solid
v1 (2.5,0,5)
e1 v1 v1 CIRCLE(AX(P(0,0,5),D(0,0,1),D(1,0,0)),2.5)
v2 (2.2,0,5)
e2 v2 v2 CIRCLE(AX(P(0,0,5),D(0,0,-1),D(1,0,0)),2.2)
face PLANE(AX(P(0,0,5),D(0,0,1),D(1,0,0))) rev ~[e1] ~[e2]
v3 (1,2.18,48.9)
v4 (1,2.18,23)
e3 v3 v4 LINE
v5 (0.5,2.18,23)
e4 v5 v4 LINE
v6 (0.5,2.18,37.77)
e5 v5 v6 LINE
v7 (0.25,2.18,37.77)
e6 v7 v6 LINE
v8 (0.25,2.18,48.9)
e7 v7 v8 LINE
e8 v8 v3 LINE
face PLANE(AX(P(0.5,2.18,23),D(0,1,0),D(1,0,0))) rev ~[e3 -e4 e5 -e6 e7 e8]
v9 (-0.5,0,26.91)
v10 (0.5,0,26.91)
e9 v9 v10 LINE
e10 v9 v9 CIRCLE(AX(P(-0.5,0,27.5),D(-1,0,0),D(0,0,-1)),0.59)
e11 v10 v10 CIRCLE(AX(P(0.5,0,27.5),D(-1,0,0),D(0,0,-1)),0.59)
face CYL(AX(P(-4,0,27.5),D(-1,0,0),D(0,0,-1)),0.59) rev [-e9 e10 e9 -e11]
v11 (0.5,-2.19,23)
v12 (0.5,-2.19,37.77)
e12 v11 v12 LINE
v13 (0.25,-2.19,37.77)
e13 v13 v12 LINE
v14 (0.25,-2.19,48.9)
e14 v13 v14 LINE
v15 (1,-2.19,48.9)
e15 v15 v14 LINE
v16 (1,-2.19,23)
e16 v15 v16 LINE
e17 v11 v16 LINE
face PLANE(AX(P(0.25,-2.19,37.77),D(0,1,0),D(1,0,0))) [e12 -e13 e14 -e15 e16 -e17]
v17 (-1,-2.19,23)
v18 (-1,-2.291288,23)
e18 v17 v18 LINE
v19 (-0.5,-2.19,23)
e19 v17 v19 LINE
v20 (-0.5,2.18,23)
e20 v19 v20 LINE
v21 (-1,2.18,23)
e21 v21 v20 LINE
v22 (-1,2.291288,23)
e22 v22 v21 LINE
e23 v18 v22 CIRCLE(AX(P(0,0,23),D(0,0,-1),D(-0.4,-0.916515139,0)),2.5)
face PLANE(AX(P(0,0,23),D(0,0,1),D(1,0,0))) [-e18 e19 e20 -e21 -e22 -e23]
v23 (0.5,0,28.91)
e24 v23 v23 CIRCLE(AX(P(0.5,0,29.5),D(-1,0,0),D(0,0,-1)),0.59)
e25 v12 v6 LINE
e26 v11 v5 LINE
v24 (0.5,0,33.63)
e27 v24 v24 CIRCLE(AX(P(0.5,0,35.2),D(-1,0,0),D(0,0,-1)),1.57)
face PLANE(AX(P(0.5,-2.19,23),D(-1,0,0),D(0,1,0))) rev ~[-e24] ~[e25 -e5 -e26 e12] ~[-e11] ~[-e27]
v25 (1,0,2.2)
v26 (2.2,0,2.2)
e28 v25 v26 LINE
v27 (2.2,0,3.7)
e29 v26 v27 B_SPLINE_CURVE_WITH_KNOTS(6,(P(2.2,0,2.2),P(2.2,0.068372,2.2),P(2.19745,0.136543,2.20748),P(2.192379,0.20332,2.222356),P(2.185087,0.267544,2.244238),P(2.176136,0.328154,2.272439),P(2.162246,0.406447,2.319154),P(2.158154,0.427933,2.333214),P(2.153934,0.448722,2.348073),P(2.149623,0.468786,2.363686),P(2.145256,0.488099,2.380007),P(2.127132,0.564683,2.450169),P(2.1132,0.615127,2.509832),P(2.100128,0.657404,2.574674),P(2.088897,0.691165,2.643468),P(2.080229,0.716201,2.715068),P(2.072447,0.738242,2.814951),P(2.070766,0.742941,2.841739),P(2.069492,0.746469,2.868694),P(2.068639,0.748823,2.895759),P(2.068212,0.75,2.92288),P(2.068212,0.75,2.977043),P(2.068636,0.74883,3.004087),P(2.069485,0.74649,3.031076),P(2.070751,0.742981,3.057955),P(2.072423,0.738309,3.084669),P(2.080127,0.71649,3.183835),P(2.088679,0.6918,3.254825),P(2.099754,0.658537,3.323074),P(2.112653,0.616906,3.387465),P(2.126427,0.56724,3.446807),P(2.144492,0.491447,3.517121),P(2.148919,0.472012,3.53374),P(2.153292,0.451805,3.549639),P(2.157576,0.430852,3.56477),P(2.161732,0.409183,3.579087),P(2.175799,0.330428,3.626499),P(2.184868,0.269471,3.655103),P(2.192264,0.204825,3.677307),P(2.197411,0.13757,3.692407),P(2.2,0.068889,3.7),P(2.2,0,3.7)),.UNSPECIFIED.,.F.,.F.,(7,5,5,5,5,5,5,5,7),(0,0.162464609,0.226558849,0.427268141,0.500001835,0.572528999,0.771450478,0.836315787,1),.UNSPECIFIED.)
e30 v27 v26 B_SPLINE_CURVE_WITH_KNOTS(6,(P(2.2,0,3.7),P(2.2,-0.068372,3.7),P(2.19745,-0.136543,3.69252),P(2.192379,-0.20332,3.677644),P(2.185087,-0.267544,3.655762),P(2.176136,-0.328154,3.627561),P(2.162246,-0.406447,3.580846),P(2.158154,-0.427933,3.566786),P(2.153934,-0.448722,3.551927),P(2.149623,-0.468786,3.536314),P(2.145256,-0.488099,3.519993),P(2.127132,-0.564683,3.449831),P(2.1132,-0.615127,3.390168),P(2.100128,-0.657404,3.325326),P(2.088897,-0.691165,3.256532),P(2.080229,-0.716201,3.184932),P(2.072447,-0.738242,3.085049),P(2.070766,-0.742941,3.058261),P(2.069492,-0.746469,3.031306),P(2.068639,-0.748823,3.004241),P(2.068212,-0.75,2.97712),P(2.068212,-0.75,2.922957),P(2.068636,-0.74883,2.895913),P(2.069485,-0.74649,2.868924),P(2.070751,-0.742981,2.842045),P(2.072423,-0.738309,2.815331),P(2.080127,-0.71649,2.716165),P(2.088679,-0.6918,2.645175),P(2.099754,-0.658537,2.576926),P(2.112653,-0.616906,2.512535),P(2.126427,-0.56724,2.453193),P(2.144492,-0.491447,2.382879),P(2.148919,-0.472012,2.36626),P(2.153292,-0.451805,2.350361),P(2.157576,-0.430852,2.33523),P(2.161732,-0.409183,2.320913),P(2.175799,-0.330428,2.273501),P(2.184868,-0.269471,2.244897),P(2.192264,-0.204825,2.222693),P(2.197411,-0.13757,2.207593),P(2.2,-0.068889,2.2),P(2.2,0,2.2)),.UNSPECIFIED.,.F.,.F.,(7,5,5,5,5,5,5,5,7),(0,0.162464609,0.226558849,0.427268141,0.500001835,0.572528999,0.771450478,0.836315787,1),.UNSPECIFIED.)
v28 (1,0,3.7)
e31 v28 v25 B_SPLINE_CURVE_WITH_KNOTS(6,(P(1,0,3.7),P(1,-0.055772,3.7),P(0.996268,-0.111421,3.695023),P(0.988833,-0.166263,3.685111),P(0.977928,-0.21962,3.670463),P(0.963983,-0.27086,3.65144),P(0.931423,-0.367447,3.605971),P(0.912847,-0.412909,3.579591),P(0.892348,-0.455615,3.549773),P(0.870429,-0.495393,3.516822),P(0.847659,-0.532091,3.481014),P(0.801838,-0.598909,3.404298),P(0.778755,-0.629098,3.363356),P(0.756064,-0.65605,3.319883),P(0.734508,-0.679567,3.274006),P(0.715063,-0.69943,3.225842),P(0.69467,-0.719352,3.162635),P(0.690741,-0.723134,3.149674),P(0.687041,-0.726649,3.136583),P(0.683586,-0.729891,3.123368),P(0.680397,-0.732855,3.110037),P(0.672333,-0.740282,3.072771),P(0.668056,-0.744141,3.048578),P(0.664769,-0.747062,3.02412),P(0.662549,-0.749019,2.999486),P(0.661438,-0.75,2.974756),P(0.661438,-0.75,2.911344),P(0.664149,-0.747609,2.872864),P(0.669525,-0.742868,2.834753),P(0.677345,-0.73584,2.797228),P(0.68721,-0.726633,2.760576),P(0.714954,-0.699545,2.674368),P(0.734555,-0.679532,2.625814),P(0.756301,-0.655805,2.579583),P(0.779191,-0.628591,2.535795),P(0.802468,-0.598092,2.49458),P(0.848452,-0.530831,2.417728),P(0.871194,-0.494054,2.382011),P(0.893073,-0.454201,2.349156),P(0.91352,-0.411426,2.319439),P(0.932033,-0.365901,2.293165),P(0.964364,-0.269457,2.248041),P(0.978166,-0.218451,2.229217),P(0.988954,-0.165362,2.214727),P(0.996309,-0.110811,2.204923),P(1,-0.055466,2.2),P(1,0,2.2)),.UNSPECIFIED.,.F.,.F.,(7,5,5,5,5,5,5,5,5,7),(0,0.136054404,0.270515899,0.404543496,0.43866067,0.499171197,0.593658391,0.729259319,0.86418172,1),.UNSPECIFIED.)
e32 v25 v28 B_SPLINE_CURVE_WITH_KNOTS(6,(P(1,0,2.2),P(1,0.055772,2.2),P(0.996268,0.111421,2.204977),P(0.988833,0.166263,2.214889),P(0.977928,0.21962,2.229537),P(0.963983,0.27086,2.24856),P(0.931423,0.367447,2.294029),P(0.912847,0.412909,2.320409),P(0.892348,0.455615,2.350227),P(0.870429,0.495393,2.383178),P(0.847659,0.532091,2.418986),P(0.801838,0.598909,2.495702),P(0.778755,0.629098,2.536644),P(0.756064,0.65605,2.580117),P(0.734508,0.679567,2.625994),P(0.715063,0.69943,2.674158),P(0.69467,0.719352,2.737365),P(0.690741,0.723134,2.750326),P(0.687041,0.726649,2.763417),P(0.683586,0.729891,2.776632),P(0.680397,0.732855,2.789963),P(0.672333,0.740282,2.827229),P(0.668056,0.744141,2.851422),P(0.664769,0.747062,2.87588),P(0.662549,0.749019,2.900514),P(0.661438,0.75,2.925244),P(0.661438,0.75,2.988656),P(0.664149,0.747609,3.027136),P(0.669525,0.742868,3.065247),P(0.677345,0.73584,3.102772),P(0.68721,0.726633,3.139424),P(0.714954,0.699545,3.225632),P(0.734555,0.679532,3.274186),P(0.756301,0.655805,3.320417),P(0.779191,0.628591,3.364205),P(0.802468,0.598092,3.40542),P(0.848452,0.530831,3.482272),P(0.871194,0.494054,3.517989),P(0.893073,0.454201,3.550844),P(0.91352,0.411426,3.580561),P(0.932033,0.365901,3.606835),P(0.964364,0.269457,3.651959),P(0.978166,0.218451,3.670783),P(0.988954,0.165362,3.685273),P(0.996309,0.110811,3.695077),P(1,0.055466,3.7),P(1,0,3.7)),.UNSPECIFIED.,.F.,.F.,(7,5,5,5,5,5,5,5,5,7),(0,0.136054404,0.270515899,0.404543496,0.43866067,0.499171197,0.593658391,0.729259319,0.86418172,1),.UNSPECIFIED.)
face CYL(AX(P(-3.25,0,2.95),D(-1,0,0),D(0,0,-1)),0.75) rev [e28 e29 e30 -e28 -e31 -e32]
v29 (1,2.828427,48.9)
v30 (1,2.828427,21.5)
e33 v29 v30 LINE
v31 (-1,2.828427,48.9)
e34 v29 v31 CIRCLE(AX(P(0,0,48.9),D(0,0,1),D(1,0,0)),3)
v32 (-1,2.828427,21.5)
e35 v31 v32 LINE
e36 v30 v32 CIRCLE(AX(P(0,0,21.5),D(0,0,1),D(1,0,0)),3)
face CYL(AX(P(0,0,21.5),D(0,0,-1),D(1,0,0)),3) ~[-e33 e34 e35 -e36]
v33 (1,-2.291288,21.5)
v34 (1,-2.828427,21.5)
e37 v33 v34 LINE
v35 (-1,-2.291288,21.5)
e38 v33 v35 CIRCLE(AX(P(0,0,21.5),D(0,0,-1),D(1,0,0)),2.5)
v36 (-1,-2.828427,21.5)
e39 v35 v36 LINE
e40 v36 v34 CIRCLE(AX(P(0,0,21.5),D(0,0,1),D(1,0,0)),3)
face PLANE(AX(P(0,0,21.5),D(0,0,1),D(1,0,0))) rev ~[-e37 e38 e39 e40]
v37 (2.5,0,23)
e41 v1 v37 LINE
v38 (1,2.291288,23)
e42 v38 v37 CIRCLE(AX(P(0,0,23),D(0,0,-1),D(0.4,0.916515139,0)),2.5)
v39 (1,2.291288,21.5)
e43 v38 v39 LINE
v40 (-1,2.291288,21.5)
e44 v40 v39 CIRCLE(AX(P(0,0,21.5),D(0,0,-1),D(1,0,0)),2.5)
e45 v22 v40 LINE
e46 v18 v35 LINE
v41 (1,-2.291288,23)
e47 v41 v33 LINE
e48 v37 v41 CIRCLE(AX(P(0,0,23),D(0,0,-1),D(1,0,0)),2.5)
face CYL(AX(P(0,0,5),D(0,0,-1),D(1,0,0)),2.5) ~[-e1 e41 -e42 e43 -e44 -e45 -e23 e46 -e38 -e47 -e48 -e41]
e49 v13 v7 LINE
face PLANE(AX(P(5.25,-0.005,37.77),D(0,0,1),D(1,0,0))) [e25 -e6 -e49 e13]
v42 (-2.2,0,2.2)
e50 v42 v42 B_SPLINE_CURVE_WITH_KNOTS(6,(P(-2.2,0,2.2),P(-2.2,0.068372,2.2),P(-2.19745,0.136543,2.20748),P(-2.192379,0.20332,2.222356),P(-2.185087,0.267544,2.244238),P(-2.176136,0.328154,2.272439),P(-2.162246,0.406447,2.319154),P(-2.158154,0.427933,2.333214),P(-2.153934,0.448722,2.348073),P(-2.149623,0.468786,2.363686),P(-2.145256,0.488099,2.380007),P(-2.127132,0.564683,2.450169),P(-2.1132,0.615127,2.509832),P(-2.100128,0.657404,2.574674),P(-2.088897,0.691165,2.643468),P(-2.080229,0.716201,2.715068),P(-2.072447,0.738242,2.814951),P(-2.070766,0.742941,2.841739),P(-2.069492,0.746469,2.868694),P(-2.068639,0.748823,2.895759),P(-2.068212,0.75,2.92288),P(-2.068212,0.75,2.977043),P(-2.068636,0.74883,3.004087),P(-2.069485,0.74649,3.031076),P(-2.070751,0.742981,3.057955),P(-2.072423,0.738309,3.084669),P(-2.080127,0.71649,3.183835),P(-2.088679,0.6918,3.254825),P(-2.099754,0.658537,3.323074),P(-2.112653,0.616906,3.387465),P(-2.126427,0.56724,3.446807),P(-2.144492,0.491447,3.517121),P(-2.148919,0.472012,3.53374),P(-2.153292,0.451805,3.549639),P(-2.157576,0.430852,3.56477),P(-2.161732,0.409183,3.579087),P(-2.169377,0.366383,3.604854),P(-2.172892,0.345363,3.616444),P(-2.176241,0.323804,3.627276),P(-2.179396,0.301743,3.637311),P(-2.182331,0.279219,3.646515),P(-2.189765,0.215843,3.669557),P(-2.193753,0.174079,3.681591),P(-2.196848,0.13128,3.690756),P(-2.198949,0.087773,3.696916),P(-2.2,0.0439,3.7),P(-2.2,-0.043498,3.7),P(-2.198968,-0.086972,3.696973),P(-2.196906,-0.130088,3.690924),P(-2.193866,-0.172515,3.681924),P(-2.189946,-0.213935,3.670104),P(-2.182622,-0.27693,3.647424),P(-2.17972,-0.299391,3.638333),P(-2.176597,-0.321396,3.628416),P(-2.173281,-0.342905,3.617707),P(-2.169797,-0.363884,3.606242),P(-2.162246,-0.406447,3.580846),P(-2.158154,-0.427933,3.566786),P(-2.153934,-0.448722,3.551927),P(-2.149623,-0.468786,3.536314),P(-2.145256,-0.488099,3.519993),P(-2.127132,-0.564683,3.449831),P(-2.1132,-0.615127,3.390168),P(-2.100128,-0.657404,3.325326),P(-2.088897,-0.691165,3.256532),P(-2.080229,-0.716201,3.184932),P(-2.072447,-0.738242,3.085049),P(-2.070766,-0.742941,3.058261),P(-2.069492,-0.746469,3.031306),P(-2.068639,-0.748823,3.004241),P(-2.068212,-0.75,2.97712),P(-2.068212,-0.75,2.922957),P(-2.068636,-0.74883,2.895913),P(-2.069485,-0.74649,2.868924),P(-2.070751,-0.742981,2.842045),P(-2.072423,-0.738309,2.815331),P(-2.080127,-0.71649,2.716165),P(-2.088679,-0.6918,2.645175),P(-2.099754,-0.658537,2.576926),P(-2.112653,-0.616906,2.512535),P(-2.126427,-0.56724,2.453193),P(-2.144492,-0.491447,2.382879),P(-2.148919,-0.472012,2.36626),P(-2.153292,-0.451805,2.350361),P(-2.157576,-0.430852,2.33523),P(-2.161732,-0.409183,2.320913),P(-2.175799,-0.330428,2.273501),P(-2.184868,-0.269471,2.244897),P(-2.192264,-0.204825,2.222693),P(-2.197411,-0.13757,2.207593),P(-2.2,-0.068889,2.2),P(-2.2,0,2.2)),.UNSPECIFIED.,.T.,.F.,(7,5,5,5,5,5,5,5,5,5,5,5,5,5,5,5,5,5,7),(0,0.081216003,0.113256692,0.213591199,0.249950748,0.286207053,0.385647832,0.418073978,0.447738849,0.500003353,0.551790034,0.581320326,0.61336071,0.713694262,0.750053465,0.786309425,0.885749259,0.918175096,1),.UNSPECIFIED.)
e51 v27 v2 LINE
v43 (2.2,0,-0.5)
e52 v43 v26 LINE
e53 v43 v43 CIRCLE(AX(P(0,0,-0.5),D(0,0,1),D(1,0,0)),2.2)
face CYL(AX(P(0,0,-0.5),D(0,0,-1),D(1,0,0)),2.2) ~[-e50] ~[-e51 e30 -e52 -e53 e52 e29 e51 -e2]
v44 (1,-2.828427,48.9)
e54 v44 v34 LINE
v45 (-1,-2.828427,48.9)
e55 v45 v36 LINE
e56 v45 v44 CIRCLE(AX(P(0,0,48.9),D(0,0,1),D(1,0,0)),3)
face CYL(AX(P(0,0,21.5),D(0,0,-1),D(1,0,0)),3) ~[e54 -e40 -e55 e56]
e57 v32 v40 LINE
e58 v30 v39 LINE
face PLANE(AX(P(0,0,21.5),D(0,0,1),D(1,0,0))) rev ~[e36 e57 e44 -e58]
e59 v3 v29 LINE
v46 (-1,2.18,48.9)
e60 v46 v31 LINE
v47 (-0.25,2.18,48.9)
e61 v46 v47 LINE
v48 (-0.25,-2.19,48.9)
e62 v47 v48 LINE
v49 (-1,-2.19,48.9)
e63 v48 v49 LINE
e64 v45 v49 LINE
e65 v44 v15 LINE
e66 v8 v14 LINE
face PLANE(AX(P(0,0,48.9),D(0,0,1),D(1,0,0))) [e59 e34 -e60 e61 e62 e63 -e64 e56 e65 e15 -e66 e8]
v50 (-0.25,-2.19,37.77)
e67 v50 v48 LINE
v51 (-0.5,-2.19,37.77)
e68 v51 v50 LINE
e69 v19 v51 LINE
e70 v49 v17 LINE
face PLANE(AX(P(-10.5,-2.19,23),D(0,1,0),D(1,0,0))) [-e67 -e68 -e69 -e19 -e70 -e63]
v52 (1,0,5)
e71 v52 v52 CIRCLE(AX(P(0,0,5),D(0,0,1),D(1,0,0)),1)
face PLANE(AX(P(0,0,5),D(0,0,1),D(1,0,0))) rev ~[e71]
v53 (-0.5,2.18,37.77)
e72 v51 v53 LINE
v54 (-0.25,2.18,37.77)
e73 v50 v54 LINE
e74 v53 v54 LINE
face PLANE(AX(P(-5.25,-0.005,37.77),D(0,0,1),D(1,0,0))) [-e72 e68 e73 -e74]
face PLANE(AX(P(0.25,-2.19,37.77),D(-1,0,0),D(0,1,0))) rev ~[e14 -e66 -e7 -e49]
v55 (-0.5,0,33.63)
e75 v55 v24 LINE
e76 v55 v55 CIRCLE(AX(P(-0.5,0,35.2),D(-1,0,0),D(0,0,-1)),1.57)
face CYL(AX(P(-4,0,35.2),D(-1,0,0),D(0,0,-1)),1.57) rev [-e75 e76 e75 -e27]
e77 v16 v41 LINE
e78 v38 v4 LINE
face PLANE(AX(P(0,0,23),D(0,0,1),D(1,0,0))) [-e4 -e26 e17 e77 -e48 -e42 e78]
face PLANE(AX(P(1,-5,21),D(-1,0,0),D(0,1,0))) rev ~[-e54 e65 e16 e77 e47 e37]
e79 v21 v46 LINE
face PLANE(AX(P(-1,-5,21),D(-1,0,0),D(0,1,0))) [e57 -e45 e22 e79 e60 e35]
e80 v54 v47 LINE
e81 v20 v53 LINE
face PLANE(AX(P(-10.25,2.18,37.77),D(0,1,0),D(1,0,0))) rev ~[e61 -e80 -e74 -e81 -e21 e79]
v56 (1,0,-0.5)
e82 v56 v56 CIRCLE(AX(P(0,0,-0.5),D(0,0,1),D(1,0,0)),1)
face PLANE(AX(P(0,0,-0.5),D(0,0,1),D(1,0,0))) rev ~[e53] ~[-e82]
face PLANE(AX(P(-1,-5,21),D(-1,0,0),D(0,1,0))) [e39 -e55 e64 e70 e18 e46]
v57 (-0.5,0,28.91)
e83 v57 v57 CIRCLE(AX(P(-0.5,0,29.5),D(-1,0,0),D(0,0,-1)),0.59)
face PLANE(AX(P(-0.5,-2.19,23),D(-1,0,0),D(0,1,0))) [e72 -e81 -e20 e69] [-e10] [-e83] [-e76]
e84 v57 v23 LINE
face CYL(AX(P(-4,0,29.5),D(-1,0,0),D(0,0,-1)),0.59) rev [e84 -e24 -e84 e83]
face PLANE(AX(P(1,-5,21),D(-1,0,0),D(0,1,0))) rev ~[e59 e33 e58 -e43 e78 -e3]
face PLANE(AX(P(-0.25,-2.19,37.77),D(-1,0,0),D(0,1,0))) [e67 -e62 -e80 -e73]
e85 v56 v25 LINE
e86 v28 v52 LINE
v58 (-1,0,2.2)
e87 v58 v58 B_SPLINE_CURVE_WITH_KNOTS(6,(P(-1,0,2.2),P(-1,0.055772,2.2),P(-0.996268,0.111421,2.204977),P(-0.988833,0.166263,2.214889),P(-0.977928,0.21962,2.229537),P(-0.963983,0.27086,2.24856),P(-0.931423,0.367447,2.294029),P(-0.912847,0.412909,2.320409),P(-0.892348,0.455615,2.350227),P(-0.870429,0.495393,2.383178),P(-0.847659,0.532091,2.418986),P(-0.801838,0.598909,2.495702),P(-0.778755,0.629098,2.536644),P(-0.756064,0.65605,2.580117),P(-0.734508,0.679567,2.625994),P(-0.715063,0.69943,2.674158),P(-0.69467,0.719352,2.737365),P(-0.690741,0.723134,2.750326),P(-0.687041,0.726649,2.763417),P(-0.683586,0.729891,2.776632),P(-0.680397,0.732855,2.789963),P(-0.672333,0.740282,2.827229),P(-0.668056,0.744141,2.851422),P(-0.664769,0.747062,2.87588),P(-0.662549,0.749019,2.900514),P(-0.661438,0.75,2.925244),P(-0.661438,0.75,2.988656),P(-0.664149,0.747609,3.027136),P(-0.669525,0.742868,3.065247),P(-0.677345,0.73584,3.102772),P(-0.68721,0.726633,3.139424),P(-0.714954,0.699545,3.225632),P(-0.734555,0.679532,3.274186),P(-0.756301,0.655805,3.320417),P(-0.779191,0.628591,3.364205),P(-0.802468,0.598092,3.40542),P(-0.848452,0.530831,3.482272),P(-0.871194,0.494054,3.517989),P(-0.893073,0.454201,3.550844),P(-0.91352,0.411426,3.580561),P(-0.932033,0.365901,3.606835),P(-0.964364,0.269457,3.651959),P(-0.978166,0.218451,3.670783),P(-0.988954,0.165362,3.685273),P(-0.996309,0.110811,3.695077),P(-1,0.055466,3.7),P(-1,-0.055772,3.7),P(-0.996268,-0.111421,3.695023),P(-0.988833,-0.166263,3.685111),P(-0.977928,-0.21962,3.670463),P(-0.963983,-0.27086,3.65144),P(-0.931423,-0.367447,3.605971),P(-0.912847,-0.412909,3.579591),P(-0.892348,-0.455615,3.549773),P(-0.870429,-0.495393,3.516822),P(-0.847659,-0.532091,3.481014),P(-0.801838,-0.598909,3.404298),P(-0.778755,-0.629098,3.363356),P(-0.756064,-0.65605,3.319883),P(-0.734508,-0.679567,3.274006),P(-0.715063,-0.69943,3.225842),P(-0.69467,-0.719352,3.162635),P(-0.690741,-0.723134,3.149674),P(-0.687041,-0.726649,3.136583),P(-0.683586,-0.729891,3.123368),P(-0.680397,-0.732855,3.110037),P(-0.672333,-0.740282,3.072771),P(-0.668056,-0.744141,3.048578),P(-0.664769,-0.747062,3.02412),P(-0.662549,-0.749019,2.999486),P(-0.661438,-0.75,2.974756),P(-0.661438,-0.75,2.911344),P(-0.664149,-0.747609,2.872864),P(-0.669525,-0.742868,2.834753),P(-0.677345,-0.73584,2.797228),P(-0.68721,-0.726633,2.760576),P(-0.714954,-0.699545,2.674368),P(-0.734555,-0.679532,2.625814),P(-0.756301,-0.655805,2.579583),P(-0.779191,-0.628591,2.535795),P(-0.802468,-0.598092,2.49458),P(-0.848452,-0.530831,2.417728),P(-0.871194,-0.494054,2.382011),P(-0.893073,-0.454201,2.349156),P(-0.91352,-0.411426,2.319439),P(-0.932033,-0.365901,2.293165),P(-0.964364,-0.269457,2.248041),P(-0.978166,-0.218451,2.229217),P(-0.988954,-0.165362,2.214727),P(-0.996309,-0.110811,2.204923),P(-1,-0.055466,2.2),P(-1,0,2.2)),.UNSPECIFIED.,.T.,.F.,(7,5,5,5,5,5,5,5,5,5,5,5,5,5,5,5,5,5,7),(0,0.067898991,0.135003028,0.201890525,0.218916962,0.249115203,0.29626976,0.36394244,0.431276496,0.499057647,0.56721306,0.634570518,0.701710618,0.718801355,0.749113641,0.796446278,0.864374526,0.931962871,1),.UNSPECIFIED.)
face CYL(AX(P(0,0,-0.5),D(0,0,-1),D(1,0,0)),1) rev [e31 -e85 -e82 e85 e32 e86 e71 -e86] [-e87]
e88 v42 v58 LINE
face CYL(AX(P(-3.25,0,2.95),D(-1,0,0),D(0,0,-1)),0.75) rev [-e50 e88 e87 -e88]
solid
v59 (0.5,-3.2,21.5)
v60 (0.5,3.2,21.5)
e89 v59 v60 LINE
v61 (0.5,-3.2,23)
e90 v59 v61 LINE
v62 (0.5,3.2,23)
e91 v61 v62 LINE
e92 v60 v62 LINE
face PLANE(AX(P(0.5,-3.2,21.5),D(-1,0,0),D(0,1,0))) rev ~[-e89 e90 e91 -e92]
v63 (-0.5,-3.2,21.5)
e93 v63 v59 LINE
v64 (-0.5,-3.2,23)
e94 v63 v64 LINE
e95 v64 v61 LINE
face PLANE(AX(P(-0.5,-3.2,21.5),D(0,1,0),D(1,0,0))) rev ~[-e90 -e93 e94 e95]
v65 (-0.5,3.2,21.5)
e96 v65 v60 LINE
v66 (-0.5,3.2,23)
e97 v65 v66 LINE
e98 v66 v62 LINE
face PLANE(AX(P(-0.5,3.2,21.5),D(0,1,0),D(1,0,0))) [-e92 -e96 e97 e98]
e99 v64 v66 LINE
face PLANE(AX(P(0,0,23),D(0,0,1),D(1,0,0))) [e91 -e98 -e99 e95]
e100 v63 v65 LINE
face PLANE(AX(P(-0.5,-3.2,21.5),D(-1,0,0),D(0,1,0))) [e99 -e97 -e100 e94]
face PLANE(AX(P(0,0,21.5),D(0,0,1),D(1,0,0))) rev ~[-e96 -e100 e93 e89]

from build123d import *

# Parameters (mm, degrees)
BOX002_W          = 1
BOX002_H          = 6.4
BOX002_DEPTH      = 1.5
BOX006_W          = 10
BOX006_H          = 4.37
BOX006_DEPTH      = 12
BOX005_W          = 10
BOX005_H          = 4.37
BOX005_DEPTH      = 12
CYLINDER008_R     = 0.59
CYLINDER008_DEPTH = 50
CYLINDER007_R     = 0.59
CYLINDER007_DEPTH = 50
BOX003_W          = 10
BOX003_H          = 4.37
BOX003_DEPTH      = 26
BOX004_W          = 10
BOX004_H          = 4.37
BOX004_DEPTH      = 26
BOX001_W          = 10
BOX001_H          = 5.5
BOX001_DEPTH      = 27
CYLINDER006_R     = 1.57
CYLINDER006_DEPTH = 20
CYLINDER003_R     = 1.1
CYLINDER003_DEPTH = 2
BOX_W             = 2
BOX_H             = 10
BOX_DEPTH         = 27.9
CYLINDER004_R     = 3
CYLINDER004_DEPTH = 27.4
CYLINDER005_R     = 1
CYLINDER005_DEPTH = 5.5
CYLINDER002_R     = 0.75
CYLINDER002_DEPTH = 6.2
CYLINDER001_R     = 2.5
CYLINDER001_DEPTH = 18
CYLINDER_R        = 2.2
CYLINDER_DEPTH    = 21.5


with BuildPart() as w_rfel002:
    # Box002 → Box002 (new body)
    with BuildSketch(Plane(origin=(-0.5, -3.2, 21.5), x_dir=(1, 0, 0), z_dir=(0, 0, 1))):
        with Locations((0.5, 3.2)):
            Rectangle(BOX002_W, BOX002_H)
    extrude(amount=BOX002_DEPTH)


with BuildPart() as w_rfel006:
    # Box006 → Box006 (new body)
    with BuildSketch(Plane(origin=(-10.25, -2.19, 36.77), x_dir=(1, 0, 0), z_dir=(0, 0, 1))):
        with Locations((5, 2.185)):
            Rectangle(BOX006_W, BOX006_H)
    extrude(amount=BOX006_DEPTH)


with BuildPart() as fusion004:
    # Box005 → Box005 (new body)
    with BuildSketch(Plane(origin=(0.25, -2.19, 36.77), x_dir=(1, 0, 0), z_dir=(0, 0, 1))):
        with Locations((5, 2.185)):
            Rectangle(BOX005_W, BOX005_H)
    extrude(amount=BOX005_DEPTH)

    # Fusion004: union Würfel006
    add(w_rfel006.part)


with BuildPart() as fusion004_1:
    # Fusion004 placement: moved
    add(fusion004.part.moved(Location((0, 0, 1))))


with BuildPart() as m1_6_thread2:
    # Cylinder008 → Cylinder008 (new body)
    with BuildSketch(Plane(origin=(-4, 0, 27.5), x_dir=(0, 0, -1), z_dir=(1, 0, 0))):
        Circle(CYLINDER008_R)
    extrude(amount=CYLINDER008_DEPTH)


with BuildPart() as mirrormountingholes:
    # Cylinder007 → Cylinder007 (new body)
    with BuildSketch(Plane(origin=(-4, 0, 29.5), x_dir=(0, 0, -1), z_dir=(1, 0, 0))):
        Circle(CYLINDER007_R)
    extrude(amount=CYLINDER007_DEPTH)

    # Fusion003: union M1_6__Thread2
    add(m1_6_thread2.part)


with BuildPart() as w_rfel003:
    # Box003 → Box003 (new body)
    with BuildSketch(Plane(origin=(0.5, -2.19, 23), x_dir=(1, 0, 0), z_dir=(0, 0, 1))):
        with Locations((5, 2.185)):
            Rectangle(BOX003_W, BOX003_H)
    extrude(amount=BOX003_DEPTH)


with BuildPart() as mirrorgrooves:
    # Box004 → Box004 (new body)
    with BuildSketch(Plane(origin=(-10.5, -2.19, 23), x_dir=(1, 0, 0), z_dir=(0, 0, 1))):
        with Locations((5, 2.185)):
            Rectangle(BOX004_W, BOX004_H)
    extrude(amount=BOX004_DEPTH)

    # Fusion002: union Würfel003
    add(w_rfel003.part)


with BuildPart() as w_rfel001:
    # Box001 → Box001 (new body)
    with BuildSketch(Plane(origin=(1, -2.57, 21), x_dir=(1, 0, 0), z_dir=(0, 0, 1))):
        with Locations((5, 2.75)):
            Rectangle(BOX001_W, BOX001_H)
    extrude(amount=BOX001_DEPTH)


with BuildPart() as probehole:
    # Cylinder006 → Cylinder006 (new body)
    with BuildSketch(Plane(origin=(-4, 0, 35.2), x_dir=(0, 0, -1), z_dir=(1, 0, 0))):
        Circle(CYLINDER006_R)
    extrude(amount=CYLINDER006_DEPTH)


with BuildPart() as beamhole:
    # Cylinder003 → Cylinder003 (new body)
    with BuildSketch(Plane(origin=(-1, 0, 35.2), x_dir=(0, 0, -1), z_dir=(1, 0, 0))):
        Circle(CYLINDER003_R)
    extrude(amount=CYLINDER003_DEPTH)


with BuildPart() as w_rfel:
    # Box → Box (new body)
    with BuildSketch(Plane(origin=(-1, -5, 21), x_dir=(1, 0, 0), z_dir=(0, 0, 1))):
        with Locations((1, 5)):
            Rectangle(BOX_W, BOX_H)
    extrude(amount=BOX_DEPTH)


with BuildPart() as cut004:
    # Cylinder004 → Cylinder004 (new body)
    with BuildSketch(Plane.XY.offset(21.5)):
        Circle(CYLINDER004_R)
    extrude(amount=CYLINDER004_DEPTH)

    # Common: intersect Würfel
    add(w_rfel.part, mode=Mode.INTERSECT)

    # Cut001: cut BeamHole
    add(beamhole.part, mode=Mode.SUBTRACT)

    # Cut003: cut ProbeHole
    add(probehole.part, mode=Mode.SUBTRACT)

    # Cut004: cut Würfel001
    add(w_rfel001.part, mode=Mode.SUBTRACT)


with BuildPart() as zylinder005:
    # Cylinder005 → Cylinder005 (new body)
    with BuildSketch(Plane.XY.offset(-0.5)):
        Circle(CYLINDER005_R)
    extrude(amount=CYLINDER005_DEPTH)


with BuildPart() as zylinder002:
    # Cylinder002 → Cylinder002 (new body)
    with BuildSketch(Plane(origin=(-3.25, 0, 2.95), x_dir=(0, 0, -1), z_dir=(1, 0, 0))):
        Circle(CYLINDER002_R)
    extrude(amount=CYLINDER002_DEPTH)


with BuildPart() as zylinder001:
    # Cylinder001 → Cylinder001 (new body)
    with BuildSketch(Plane.XY.offset(5)):
        Circle(CYLINDER001_R)
    extrude(amount=CYLINDER001_DEPTH)


with BuildPart() as cut007:
    # Cylinder → Cylinder (new body)
    with BuildSketch(Plane.XY.offset(-0.5)):
        Circle(CYLINDER_R)
    extrude(amount=CYLINDER_DEPTH)

    # Fusion: union Zylinder001
    add(zylinder001.part)

    # Cut: cut Zylinder002
    add(zylinder002.part, mode=Mode.SUBTRACT)

    # Cut002: cut Zylinder005
    add(zylinder005.part, mode=Mode.SUBTRACT)

    # Fusion001: union Cut004
    add(cut004.part)

    # Cut005: cut MirrorGrooves
    add(mirrorgrooves.part, mode=Mode.SUBTRACT)

    # Cut006: cut MirrorMountingHoles
    add(mirrormountingholes.part, mode=Mode.SUBTRACT)

    # Cut007: cut Fusion004
    add(fusion004_1.part, mode=Mode.SUBTRACT)


solid = Compound([w_rfel002.part, cut007.part])
